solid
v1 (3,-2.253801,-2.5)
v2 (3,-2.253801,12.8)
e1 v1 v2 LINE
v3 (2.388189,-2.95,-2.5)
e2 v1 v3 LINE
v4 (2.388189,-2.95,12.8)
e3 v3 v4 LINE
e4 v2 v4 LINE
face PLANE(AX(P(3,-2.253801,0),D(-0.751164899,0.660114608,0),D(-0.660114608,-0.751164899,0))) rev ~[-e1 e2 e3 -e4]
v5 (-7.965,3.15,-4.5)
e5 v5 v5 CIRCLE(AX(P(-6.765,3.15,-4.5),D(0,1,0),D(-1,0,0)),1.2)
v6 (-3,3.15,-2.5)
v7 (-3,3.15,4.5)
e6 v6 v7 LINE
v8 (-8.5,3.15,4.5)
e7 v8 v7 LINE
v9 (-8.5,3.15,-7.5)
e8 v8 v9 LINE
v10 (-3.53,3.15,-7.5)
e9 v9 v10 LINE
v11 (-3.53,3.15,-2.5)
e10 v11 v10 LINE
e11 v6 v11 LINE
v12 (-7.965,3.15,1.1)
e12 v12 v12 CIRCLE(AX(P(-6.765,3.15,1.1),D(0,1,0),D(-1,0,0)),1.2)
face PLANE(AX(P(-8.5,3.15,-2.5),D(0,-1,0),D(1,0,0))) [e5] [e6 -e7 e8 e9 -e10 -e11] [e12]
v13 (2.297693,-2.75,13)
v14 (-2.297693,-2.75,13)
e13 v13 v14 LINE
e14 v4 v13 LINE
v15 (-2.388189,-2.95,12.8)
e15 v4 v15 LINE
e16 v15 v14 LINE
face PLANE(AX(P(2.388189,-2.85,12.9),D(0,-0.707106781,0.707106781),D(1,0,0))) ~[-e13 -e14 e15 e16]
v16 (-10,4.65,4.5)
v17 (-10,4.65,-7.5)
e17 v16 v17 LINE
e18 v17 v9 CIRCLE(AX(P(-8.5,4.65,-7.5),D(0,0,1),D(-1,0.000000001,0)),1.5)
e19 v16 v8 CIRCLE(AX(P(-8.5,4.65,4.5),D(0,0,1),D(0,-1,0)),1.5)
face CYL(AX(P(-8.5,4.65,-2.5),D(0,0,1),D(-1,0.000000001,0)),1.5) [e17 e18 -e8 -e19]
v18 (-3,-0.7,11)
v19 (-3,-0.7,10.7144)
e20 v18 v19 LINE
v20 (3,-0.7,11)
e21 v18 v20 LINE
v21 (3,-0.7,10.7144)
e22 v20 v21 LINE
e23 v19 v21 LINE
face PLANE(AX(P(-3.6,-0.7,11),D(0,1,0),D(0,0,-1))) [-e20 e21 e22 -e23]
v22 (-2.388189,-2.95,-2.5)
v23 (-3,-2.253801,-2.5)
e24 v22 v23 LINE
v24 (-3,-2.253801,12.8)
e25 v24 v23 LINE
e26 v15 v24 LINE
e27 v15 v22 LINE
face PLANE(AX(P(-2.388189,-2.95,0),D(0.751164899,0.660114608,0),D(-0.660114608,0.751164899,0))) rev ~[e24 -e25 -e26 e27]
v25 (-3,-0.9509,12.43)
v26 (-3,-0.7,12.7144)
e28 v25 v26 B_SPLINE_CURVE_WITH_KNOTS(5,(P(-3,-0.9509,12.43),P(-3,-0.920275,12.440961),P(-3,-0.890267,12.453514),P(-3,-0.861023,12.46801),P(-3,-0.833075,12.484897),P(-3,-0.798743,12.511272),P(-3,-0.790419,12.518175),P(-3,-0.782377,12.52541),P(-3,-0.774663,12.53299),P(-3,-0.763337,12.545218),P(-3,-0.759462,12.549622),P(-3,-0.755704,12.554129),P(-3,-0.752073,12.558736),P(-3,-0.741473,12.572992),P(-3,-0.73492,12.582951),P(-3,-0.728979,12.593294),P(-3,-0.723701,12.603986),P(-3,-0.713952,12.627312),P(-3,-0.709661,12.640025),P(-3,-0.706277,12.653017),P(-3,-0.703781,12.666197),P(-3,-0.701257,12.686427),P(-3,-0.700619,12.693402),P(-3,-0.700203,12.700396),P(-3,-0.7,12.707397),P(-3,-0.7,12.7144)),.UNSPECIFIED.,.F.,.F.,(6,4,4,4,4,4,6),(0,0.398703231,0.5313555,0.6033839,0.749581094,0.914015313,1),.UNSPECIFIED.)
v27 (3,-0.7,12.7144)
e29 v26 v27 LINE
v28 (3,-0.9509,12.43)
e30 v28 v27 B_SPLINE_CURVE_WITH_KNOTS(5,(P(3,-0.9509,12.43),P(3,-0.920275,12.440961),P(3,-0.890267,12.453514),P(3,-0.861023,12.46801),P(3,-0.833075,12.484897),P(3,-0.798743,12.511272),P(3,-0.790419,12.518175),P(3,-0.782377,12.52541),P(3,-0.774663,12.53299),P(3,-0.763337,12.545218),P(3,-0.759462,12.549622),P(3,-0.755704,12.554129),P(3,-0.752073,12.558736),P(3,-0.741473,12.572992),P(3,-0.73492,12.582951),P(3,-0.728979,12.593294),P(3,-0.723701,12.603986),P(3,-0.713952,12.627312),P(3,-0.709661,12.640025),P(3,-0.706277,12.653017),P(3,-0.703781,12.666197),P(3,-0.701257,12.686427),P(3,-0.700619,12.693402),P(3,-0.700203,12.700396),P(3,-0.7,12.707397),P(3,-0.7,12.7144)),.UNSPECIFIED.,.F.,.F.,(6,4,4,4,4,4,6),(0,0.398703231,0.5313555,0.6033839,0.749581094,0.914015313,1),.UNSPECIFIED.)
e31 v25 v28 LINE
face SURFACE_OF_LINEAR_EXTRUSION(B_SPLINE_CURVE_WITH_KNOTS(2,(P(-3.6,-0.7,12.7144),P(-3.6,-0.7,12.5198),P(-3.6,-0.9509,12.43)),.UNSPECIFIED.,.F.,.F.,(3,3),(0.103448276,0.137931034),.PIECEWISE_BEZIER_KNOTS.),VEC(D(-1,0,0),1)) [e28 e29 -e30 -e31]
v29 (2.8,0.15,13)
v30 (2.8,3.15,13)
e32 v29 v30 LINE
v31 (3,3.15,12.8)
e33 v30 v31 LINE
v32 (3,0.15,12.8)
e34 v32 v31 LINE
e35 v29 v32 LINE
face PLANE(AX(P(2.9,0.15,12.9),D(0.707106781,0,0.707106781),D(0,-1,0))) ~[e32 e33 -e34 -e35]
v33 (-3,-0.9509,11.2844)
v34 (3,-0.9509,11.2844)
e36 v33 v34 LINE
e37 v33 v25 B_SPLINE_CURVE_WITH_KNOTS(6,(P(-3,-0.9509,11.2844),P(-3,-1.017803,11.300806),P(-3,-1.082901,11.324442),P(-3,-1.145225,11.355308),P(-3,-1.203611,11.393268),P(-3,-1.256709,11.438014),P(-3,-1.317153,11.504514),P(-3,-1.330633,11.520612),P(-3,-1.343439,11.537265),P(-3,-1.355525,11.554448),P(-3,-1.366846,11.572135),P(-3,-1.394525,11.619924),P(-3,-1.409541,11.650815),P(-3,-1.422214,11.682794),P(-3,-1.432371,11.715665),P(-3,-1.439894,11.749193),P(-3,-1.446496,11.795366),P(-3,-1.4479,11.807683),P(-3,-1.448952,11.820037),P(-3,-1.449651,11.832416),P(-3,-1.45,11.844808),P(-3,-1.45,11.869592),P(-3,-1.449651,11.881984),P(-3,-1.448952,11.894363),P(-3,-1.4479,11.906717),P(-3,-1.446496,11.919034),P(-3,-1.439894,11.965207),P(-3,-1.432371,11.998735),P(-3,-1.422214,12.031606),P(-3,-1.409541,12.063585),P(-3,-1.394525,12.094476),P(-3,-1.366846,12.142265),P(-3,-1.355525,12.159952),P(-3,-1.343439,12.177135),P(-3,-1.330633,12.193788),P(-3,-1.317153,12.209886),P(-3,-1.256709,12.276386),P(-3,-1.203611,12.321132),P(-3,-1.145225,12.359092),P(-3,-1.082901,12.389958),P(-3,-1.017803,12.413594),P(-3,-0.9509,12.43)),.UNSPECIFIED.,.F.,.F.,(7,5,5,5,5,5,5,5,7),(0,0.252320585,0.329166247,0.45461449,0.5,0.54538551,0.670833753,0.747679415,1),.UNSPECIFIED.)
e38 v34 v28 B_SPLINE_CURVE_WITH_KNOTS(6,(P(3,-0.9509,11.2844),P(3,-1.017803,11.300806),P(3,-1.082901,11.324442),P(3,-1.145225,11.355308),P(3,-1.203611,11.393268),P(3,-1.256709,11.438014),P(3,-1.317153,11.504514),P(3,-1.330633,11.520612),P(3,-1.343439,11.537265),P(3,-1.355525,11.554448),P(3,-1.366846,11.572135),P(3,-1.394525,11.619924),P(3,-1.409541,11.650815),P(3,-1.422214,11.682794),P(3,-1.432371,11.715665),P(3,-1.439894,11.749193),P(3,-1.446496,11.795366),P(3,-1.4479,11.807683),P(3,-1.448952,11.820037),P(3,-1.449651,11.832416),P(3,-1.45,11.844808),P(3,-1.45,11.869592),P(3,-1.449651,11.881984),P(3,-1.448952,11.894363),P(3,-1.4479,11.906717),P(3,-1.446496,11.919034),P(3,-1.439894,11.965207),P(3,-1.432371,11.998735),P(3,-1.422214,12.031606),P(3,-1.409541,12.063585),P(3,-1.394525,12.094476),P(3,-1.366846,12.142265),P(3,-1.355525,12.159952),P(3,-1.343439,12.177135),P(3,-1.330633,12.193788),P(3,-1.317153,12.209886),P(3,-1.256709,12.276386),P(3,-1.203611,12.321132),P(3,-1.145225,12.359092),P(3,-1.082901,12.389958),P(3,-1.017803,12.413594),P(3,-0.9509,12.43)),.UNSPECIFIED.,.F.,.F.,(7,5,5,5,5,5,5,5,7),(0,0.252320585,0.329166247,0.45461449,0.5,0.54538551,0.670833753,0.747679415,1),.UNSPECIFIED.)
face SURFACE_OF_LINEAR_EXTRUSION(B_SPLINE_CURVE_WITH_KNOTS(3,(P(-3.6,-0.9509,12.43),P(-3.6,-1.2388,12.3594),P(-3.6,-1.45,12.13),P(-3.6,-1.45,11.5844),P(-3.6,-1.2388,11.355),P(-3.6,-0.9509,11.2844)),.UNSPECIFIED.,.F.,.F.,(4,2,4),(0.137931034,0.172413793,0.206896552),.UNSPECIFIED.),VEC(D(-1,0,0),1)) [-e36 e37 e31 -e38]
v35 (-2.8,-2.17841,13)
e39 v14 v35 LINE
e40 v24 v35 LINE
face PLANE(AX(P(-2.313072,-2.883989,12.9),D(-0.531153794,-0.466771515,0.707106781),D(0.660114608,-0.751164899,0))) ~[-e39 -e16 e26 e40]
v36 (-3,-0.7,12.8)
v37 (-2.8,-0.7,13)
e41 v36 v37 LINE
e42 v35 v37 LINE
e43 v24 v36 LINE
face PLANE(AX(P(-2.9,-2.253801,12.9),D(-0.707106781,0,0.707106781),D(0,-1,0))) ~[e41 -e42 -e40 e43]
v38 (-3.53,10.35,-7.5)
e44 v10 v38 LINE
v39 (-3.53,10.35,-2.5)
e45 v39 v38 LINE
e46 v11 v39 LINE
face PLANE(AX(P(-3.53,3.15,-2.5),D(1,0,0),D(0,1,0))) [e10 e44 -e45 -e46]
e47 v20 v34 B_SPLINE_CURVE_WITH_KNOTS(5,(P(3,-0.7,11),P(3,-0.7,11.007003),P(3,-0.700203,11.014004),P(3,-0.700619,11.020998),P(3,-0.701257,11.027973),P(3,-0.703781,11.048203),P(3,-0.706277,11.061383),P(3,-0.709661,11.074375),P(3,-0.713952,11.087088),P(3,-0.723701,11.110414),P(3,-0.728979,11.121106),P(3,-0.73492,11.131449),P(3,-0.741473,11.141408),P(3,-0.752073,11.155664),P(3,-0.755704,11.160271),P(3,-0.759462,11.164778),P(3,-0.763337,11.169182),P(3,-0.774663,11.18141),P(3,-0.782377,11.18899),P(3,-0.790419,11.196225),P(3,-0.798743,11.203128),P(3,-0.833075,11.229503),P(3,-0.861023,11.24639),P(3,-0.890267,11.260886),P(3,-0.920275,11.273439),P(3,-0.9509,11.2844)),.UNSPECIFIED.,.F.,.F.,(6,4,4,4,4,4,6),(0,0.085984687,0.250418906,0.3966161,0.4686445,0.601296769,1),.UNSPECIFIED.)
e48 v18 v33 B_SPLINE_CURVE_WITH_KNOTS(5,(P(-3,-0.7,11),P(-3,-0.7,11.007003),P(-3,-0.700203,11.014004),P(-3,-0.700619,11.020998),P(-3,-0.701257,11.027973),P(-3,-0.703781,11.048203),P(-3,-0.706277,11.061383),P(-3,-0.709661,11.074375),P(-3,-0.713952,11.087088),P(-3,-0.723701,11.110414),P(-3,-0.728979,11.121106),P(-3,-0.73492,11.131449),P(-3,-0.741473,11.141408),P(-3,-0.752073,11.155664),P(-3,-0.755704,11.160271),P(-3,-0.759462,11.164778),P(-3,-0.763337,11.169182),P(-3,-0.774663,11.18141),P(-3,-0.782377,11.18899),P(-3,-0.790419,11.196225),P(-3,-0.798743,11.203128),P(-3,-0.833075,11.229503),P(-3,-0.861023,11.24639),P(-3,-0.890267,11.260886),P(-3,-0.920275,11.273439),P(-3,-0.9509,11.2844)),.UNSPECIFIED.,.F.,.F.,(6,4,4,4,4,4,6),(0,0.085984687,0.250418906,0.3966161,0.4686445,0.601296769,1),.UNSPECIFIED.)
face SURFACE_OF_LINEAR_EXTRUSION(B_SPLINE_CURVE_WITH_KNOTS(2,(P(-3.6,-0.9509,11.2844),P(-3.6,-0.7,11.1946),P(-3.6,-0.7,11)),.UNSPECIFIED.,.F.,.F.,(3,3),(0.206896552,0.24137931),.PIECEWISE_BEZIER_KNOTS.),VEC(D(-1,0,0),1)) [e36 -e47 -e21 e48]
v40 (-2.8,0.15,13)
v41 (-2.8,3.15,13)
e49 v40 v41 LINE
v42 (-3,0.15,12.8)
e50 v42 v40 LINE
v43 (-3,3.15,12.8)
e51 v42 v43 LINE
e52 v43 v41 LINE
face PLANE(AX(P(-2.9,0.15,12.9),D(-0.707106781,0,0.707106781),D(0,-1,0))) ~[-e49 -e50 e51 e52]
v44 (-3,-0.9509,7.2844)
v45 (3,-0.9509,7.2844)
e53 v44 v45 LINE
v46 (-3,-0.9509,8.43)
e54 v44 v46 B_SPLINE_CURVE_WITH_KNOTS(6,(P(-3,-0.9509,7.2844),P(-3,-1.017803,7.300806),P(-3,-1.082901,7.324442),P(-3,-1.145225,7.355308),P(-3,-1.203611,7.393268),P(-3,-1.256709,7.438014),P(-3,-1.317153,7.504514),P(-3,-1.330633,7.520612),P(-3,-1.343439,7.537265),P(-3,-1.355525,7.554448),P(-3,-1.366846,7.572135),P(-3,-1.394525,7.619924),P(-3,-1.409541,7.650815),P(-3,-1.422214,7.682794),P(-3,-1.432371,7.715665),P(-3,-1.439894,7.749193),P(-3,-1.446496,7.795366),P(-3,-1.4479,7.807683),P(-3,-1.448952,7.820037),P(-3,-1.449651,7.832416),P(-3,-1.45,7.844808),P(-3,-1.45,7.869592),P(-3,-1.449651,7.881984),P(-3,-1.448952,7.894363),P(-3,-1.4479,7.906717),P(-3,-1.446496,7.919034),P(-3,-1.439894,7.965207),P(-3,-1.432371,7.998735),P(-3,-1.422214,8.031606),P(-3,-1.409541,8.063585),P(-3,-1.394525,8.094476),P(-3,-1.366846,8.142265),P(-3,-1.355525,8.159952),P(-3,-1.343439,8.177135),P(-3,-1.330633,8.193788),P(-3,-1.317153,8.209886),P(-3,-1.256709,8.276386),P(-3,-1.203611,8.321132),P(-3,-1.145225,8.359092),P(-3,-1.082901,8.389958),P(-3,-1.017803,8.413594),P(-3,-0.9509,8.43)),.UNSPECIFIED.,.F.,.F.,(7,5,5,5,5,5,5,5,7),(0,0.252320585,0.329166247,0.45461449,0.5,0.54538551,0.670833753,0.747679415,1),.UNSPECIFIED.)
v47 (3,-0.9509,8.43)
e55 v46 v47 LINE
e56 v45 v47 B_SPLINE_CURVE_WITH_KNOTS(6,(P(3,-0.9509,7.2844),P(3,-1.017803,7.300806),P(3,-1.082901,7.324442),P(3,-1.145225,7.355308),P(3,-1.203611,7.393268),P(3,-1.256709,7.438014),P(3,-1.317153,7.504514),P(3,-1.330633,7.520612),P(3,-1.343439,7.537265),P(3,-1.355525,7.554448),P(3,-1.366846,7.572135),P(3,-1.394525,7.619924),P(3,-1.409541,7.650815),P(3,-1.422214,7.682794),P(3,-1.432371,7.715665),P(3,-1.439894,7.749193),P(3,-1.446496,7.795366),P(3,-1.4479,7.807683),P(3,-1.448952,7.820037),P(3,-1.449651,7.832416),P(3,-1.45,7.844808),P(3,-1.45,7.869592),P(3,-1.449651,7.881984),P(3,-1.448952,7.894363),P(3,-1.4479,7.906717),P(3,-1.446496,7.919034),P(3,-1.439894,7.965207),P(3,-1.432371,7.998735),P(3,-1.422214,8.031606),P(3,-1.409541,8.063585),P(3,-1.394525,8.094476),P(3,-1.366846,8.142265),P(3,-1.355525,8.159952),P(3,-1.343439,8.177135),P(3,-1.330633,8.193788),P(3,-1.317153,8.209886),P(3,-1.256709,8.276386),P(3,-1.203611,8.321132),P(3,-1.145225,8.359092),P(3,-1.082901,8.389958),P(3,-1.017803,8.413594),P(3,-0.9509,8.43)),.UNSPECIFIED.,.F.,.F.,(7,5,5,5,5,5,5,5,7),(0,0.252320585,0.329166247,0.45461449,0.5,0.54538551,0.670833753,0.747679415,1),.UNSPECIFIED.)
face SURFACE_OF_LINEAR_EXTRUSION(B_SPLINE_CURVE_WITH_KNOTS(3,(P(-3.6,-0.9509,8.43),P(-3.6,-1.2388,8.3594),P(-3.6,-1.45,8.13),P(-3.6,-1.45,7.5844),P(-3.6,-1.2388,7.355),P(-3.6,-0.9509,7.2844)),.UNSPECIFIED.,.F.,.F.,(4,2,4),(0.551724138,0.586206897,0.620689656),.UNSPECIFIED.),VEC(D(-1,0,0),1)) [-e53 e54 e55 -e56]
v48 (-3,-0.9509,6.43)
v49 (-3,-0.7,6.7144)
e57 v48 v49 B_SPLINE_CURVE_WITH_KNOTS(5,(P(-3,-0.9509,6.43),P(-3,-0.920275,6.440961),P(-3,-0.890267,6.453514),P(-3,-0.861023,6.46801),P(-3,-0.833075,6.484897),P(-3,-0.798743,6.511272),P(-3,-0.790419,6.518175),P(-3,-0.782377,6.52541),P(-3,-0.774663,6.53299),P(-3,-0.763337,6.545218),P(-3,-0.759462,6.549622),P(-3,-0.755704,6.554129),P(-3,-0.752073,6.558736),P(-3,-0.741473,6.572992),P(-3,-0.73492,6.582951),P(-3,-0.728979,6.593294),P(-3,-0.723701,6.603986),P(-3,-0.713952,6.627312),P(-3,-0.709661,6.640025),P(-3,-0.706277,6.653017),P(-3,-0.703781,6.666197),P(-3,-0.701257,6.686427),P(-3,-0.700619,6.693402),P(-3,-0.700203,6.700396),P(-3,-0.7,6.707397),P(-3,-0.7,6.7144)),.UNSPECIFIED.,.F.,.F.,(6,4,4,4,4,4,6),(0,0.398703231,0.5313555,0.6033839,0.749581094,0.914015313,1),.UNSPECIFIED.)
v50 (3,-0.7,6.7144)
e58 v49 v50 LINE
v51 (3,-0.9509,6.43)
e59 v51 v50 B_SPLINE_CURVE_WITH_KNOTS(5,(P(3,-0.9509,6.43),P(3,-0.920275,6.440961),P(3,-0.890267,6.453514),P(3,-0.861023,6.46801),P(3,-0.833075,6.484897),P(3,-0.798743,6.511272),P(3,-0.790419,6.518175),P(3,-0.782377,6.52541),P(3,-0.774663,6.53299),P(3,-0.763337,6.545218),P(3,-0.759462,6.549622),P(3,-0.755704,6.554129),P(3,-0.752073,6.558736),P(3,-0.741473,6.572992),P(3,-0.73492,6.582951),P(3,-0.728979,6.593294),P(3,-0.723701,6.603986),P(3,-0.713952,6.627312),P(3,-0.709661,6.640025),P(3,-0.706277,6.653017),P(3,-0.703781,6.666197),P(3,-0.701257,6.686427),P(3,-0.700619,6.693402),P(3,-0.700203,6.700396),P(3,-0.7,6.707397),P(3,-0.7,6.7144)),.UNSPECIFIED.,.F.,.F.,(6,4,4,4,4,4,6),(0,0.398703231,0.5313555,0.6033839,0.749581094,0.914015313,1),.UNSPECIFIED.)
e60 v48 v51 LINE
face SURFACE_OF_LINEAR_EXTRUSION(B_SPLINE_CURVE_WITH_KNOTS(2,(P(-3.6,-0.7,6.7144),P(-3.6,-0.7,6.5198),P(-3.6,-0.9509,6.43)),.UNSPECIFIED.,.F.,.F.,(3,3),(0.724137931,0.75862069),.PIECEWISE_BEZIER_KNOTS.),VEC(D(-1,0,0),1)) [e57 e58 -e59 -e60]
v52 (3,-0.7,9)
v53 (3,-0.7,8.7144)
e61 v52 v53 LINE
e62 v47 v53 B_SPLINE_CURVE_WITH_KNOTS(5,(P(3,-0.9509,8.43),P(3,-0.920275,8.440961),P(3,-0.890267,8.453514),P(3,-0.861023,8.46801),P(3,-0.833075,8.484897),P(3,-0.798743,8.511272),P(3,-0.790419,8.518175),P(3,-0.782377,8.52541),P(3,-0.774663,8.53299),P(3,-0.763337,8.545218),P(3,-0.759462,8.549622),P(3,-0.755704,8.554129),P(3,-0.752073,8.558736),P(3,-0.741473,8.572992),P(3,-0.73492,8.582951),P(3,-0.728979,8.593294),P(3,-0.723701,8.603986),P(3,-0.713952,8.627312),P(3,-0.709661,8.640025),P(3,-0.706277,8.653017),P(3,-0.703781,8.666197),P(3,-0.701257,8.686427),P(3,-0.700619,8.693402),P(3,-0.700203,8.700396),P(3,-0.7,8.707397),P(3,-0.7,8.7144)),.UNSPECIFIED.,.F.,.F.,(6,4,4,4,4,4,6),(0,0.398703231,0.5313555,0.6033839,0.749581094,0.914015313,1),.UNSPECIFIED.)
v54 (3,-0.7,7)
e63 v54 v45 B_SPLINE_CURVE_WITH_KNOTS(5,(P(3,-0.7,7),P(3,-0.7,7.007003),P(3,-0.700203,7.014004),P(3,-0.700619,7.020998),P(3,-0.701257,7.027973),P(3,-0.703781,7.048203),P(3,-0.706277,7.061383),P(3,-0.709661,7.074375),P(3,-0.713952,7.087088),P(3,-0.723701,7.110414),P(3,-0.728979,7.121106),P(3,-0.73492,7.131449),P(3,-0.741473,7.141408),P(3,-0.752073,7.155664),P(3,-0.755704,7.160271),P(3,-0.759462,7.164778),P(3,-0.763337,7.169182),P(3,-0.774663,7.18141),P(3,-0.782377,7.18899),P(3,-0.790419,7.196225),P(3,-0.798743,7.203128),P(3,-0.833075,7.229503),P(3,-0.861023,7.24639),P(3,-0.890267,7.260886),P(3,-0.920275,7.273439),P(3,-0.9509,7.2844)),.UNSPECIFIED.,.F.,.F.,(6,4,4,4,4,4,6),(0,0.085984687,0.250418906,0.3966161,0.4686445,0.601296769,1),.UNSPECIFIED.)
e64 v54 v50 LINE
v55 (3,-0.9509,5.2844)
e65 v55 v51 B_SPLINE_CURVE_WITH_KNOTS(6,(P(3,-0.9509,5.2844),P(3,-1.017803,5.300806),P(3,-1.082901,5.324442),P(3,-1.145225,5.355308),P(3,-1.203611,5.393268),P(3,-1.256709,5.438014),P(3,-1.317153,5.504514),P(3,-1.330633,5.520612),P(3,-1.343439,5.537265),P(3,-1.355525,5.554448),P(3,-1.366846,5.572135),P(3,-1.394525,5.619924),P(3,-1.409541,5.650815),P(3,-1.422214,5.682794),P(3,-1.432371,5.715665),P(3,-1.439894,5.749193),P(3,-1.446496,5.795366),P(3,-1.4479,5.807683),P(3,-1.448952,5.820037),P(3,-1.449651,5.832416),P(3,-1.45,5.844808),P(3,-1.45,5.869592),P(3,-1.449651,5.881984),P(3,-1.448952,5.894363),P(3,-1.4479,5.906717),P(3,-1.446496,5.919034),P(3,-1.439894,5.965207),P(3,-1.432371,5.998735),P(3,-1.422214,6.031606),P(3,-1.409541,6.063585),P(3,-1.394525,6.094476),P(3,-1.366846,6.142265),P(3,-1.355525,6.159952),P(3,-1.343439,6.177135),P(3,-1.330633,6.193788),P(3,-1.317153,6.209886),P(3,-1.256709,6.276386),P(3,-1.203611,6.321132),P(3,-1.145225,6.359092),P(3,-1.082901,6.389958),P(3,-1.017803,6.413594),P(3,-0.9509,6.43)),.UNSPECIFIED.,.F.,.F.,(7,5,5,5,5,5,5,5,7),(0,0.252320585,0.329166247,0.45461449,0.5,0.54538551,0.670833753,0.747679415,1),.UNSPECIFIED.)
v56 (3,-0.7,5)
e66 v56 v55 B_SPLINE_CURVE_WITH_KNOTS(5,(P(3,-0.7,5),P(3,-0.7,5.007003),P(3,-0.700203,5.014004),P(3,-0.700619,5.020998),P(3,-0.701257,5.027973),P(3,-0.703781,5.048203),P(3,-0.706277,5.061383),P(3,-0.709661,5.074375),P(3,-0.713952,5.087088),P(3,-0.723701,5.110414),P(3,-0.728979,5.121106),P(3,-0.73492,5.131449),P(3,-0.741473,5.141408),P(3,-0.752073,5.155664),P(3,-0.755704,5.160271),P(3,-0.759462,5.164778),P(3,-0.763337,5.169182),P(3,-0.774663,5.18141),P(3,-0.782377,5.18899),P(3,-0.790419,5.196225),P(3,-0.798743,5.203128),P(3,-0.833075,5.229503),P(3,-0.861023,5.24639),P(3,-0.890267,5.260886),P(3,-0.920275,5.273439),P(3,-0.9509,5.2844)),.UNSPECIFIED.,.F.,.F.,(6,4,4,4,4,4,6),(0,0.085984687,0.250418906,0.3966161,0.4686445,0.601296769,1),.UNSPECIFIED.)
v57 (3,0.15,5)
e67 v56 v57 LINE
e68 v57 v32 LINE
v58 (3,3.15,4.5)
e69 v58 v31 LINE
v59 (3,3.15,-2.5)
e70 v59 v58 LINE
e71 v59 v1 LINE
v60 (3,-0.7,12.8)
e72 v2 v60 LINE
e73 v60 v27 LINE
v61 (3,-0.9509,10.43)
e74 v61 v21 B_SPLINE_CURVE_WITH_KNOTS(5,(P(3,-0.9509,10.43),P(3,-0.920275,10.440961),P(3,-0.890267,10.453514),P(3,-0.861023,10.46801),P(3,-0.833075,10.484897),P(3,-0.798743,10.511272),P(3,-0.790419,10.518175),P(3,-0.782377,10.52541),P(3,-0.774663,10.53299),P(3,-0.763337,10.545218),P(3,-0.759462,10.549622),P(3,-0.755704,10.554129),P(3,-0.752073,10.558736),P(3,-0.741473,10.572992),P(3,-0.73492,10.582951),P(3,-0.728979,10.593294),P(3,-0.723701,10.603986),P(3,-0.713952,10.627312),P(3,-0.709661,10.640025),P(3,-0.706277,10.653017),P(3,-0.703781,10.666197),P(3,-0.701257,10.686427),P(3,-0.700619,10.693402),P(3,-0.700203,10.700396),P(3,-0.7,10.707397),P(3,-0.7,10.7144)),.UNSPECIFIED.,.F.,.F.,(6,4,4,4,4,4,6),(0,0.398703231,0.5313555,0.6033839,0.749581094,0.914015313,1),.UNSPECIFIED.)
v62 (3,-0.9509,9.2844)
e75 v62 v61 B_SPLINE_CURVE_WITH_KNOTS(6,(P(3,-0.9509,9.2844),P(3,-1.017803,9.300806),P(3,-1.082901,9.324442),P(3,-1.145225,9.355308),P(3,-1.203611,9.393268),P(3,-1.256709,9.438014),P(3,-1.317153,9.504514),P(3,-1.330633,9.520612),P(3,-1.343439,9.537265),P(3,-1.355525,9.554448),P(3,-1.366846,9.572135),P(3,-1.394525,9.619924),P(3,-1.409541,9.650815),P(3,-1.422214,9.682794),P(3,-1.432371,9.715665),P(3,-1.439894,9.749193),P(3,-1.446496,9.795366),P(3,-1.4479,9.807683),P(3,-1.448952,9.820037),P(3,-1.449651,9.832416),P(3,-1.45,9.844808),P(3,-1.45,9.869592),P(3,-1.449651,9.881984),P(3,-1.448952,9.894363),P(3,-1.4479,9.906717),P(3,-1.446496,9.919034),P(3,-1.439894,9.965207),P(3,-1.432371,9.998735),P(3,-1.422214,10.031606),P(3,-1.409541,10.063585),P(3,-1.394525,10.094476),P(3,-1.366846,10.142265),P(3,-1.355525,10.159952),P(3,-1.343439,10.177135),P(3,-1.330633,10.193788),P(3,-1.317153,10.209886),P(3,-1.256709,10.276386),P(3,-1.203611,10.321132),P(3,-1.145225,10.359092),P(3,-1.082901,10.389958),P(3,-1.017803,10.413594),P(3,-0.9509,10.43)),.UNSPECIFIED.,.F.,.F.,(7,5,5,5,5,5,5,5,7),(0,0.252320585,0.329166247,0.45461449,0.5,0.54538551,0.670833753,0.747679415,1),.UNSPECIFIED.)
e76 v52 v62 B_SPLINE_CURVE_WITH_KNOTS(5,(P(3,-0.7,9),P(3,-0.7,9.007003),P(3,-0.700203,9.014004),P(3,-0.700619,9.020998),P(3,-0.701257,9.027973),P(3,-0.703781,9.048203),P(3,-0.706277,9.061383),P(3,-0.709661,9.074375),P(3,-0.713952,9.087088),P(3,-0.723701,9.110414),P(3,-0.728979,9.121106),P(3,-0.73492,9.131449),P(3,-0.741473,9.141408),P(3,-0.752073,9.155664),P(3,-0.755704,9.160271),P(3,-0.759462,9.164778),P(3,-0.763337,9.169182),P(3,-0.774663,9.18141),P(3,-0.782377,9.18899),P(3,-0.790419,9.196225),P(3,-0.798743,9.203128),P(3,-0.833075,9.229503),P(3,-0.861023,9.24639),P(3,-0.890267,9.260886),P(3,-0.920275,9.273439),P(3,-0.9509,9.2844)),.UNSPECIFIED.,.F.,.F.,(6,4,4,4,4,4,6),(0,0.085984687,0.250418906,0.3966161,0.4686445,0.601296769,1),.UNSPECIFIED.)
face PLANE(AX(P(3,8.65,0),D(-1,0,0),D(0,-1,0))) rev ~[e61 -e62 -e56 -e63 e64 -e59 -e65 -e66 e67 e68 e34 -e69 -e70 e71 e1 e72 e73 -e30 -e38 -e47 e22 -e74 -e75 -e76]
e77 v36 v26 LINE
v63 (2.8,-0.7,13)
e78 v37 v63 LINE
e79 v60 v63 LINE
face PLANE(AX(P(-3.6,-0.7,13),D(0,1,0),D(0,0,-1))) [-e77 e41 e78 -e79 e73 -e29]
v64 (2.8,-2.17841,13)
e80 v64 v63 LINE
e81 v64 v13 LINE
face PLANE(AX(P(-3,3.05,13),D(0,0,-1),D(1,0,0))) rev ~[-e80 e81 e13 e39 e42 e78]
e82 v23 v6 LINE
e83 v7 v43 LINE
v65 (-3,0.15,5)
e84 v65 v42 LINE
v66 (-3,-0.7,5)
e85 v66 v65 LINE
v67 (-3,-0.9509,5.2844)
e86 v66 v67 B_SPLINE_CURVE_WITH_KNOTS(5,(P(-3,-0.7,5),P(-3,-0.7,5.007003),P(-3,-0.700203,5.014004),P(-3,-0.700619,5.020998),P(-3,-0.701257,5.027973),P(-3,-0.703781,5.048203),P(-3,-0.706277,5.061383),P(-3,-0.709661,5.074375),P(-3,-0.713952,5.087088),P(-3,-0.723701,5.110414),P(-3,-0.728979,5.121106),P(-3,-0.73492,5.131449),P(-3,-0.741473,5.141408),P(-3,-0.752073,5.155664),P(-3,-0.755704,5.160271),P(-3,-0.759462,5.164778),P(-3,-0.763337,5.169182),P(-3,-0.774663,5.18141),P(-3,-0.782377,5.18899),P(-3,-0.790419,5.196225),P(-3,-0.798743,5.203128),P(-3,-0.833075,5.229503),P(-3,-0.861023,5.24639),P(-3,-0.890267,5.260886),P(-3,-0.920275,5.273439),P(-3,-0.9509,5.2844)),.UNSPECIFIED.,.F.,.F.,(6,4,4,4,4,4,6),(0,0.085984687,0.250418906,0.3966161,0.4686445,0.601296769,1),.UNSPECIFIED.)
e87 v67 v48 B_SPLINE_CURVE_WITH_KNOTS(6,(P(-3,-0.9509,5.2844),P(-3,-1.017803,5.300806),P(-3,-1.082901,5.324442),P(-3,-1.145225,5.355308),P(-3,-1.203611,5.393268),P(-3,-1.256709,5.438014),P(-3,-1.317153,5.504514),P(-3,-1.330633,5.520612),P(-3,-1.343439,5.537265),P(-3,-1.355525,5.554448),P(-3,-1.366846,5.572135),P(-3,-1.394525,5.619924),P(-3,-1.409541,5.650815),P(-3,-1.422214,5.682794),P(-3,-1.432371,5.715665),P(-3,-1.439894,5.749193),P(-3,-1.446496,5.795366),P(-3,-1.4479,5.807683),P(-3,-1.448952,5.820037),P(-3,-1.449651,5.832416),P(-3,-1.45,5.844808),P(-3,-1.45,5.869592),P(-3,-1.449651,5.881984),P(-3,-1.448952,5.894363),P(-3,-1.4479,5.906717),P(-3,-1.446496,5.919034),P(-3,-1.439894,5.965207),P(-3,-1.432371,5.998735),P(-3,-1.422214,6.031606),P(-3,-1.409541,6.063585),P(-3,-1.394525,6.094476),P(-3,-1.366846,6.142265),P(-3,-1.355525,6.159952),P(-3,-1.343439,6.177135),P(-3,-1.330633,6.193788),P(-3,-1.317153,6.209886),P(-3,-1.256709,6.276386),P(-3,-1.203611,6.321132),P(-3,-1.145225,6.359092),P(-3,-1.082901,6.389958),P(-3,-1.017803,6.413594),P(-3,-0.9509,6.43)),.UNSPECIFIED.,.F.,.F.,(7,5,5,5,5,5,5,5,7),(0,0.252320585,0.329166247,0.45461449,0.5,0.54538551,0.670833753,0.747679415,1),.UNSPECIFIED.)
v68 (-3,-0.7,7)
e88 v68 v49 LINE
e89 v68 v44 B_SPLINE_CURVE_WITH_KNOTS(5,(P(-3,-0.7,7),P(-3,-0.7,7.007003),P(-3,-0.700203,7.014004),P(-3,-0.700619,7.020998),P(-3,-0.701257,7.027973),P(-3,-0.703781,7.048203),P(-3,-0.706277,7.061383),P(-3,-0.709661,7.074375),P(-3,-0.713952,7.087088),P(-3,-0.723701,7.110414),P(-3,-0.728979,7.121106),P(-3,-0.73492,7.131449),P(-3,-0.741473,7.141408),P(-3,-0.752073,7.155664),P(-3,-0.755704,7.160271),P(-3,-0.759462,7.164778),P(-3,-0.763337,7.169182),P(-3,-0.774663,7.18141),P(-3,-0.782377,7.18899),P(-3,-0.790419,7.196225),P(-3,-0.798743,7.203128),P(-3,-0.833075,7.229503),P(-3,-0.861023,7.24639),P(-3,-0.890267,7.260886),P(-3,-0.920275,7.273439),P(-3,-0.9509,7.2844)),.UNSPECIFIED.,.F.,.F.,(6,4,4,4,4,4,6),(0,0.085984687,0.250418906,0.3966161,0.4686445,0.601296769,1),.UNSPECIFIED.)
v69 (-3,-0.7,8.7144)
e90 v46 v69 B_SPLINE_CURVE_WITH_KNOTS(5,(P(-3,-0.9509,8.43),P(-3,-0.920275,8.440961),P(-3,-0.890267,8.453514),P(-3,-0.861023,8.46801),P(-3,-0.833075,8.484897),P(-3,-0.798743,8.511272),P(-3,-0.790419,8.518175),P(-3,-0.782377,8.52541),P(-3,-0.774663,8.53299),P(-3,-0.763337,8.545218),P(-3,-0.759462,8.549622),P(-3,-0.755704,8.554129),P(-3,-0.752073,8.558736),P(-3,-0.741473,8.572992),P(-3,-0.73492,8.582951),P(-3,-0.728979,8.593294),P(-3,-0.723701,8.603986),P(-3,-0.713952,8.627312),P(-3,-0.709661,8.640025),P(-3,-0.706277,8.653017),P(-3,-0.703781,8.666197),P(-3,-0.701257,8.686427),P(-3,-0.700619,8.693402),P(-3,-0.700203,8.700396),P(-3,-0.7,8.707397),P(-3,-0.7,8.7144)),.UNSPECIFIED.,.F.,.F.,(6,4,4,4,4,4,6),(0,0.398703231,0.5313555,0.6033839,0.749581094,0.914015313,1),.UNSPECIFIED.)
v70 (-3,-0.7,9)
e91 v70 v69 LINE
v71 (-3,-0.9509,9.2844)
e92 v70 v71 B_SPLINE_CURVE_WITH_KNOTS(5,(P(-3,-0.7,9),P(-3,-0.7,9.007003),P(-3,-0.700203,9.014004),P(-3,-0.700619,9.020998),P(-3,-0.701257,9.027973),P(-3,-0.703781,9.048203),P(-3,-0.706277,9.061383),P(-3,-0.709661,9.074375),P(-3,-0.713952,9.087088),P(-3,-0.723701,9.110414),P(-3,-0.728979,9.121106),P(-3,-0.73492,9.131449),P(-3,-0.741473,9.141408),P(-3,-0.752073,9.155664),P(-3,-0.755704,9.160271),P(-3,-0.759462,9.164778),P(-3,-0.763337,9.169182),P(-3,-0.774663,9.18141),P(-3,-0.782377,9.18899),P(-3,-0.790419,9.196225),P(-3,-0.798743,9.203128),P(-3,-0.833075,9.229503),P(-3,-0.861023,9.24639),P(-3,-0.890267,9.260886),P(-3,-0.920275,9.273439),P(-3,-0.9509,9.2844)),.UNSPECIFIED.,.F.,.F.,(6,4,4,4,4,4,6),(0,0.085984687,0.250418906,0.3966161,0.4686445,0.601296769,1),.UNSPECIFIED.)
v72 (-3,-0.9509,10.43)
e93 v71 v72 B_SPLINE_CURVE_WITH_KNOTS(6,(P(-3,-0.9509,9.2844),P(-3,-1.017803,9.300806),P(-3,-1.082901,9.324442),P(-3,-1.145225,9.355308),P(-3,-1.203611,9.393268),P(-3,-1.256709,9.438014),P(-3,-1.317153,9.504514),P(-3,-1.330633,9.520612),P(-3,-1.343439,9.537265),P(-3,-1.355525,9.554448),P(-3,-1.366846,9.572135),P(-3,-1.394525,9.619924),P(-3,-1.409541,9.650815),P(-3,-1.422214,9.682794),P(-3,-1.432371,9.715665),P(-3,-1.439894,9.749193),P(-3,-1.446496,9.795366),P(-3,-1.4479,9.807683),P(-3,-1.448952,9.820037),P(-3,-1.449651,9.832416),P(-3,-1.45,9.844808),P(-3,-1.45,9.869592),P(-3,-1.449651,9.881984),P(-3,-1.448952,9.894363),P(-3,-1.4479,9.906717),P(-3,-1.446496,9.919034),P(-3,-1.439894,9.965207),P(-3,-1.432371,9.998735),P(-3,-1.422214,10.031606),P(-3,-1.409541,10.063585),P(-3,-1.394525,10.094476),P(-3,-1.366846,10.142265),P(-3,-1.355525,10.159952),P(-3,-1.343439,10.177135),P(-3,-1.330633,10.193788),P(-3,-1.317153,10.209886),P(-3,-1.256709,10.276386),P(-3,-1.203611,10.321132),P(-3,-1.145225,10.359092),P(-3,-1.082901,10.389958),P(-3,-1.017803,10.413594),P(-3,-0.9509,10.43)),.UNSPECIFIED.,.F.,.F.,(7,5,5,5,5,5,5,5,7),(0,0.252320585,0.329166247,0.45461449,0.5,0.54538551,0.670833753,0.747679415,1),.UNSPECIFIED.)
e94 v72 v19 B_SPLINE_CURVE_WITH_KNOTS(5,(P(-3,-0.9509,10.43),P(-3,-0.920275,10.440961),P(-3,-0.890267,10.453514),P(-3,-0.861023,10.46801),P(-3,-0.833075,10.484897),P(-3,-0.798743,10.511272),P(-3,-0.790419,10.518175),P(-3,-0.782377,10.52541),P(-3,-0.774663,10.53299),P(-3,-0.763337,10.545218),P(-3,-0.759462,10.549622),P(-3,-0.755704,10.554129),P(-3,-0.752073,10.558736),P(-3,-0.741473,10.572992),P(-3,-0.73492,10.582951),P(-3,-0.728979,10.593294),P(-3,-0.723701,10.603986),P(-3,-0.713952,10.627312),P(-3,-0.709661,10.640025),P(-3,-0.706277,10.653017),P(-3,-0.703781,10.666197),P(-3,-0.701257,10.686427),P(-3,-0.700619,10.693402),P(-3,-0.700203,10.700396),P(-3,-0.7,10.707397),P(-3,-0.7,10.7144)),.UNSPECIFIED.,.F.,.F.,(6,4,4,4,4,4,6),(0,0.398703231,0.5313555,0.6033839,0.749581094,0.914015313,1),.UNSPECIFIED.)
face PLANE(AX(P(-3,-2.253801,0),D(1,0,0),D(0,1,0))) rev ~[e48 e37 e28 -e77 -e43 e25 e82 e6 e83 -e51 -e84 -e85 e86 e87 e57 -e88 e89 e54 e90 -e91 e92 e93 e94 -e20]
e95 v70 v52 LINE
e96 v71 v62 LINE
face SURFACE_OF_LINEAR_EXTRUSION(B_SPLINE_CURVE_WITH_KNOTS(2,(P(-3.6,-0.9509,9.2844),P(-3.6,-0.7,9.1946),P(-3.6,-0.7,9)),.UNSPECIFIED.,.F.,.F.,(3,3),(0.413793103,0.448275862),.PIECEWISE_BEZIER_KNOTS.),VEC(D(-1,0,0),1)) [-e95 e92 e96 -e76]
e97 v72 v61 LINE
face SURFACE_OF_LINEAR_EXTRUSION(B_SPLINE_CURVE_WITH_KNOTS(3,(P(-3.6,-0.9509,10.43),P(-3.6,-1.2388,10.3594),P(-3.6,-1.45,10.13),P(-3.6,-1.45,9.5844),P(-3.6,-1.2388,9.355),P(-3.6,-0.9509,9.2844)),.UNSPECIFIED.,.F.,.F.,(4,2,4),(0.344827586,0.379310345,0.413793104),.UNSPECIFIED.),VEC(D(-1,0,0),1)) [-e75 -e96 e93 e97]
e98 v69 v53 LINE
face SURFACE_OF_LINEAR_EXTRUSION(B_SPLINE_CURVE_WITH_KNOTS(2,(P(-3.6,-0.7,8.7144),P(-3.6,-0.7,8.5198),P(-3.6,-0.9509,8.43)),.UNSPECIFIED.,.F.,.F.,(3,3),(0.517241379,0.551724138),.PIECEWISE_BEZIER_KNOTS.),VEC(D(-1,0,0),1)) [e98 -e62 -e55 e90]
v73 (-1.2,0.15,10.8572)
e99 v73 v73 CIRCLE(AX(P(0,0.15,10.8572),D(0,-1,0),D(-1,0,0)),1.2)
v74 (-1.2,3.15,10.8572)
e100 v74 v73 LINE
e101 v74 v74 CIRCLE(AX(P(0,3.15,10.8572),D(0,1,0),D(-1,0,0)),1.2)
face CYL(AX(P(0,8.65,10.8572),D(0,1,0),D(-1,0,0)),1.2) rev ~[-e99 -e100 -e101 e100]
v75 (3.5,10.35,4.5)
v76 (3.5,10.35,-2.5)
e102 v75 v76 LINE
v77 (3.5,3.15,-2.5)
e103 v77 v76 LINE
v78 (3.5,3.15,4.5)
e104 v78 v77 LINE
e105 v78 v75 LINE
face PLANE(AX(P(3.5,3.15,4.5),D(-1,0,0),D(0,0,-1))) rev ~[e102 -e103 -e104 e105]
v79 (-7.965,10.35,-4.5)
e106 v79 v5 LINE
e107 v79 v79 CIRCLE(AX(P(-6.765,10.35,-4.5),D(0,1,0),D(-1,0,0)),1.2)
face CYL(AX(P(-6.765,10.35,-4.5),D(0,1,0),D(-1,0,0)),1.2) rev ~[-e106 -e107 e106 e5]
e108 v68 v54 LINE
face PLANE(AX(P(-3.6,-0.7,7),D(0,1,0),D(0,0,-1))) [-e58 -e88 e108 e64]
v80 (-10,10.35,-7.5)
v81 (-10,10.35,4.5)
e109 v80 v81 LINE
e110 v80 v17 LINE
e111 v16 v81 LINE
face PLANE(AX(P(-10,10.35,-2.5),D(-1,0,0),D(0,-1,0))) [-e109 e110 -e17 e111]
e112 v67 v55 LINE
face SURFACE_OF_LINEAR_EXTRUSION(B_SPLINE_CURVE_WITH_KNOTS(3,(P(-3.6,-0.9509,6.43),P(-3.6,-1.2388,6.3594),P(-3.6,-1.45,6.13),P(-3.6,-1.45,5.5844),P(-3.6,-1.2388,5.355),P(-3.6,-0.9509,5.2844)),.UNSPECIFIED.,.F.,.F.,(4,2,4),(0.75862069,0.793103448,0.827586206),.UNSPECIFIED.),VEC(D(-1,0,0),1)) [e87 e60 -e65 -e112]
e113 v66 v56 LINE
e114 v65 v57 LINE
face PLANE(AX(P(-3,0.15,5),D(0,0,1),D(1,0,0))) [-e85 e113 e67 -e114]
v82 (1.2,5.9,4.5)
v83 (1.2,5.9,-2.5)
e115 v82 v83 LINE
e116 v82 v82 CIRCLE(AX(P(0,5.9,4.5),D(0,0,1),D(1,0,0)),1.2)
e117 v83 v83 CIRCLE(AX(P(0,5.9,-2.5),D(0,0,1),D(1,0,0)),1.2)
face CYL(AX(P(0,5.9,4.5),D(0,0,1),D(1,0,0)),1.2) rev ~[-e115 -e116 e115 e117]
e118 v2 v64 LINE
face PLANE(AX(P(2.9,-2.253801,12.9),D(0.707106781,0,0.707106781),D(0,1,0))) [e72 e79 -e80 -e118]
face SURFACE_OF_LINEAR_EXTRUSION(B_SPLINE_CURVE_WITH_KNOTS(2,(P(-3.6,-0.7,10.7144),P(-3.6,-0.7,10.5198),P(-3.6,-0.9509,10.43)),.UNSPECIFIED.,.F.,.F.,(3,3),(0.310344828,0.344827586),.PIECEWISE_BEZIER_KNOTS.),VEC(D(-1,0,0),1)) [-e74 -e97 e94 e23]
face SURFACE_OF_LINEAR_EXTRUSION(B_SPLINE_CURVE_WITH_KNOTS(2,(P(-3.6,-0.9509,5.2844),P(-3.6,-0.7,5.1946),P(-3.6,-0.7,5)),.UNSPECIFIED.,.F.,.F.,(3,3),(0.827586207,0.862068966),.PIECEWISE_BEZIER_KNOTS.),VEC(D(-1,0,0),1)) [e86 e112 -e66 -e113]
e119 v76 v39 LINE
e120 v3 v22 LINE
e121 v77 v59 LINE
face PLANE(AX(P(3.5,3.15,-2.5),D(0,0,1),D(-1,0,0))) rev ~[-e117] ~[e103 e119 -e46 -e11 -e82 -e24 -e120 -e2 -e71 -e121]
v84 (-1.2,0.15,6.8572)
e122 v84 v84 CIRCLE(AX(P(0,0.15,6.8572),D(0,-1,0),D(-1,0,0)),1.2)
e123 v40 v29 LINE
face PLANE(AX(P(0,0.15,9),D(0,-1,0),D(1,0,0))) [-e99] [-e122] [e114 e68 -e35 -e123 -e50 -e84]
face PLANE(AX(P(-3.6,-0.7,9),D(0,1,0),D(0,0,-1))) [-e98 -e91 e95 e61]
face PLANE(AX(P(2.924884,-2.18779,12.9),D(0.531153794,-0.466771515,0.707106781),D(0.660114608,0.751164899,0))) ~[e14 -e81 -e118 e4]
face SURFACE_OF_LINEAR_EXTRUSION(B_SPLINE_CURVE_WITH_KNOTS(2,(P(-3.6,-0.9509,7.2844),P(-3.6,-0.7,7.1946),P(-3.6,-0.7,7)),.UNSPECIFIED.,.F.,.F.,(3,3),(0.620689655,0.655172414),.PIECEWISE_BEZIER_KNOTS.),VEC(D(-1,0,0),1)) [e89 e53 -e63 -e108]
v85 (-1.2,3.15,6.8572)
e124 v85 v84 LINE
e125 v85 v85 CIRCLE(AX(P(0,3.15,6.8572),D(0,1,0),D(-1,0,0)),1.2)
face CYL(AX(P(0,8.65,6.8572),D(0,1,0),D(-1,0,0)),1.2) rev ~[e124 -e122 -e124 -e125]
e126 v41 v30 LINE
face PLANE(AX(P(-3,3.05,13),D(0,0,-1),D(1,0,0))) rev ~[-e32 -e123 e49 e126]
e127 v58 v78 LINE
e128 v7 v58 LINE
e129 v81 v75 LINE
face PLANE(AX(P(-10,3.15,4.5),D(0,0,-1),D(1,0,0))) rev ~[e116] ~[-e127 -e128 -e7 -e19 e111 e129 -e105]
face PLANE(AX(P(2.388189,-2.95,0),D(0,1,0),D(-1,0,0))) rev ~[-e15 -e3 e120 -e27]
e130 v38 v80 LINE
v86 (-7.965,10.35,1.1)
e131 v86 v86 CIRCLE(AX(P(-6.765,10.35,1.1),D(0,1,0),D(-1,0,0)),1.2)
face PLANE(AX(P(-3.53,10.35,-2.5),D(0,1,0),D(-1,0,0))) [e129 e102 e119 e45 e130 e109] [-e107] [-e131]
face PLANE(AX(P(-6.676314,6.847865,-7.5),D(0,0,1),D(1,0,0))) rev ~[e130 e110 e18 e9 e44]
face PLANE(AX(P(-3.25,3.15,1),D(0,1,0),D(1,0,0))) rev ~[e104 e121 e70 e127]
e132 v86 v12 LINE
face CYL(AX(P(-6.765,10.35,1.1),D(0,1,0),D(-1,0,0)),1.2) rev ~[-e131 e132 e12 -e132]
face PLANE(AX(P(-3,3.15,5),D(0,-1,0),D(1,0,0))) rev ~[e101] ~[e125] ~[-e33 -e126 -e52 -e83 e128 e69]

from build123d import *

# Parameters (mm, degrees)
BOSS_EXTRUDE1_DEPTH     = 13
SKETCH6_W               = 6
SKETCH6_H               = 5
BOSS_EXTRUDE4_DEPTH     = 5.6
SKETCH16_W              = 6
SKETCH16_H              = 8
BOSS_EXTRUDE5_DEPTH     = 0.1
CUT_EXTRUDE6_DEPTH      = 4
CUT_EXTRUDE6_DEPTH_BACK = 3.6
SKETCH15_R              = 1.2
CUT_EXTRUDE7_DEPTH      = 8.7202
CUT_EXTRUDE8_START      = -0.2202
SKETCH19_W              = 6
SKETCH19_H              = 8
SKETCH19_R              = 1.2
CUT_EXTRUDE8_DEPTH      = 0.2202
SKETCH12_R              = 1.2
CUT_EXTRUDE5_DEPTH      = 6
SKETCH21_R              = 1.2
BOSS_EXTRUDE6_DEPTH     = 2.5
SKETCH24_W              = 6
SKETCH24_H              = 5.5
CUT_EXTRUDE10_DEPTH     = 8.5
BOSS_EXTRUDE8_DEPTH     = 7.2
FILLET4_R               = 1.5
SKETCH26_R              = 1.2
CUT_EXTRUDE11_DEPTH     = 10
CHAMFER1_SIZE           = 0.2
BOSS_EXTRUDE9_DEPTH     = 5
SKETCH31_R              = 1.2
CUT_EXTRUDE12_DEPTH     = 8


with BuildPart() as part:
    # Sketch1 → Boss-Extrude1 (new body)
    with BuildSketch(Plane.XY):
        Polygon((3, 3.05), (3, -2.253801214), (2.388188946, -2.95), (-2.388188946, -2.95), (-3, -2.253801214), (-3, 3.05), align=None)
    extrude(amount=BOSS_EXTRUDE1_DEPTH)

    # Sketch6 → Boss-Extrude4 (add)
    with BuildSketch(Plane(origin=(0, 3.05, 0), x_dir=(1, 0, 0), z_dir=(0, 1, 0))):
        with Locations((0, -2.5)):
            Rectangle(SKETCH6_W, SKETCH6_H)
    extrude(amount=BOSS_EXTRUDE4_DEPTH)

    # Sketch16 → Boss-Extrude5 (add)
    with BuildSketch(Plane(origin=(0, 3.05, 0), x_dir=(1, 0, 0), z_dir=(0, 1, 0))):
        with Locations((0, -9)):
            Rectangle(SKETCH16_W, SKETCH16_H)
    extrude(amount=BOSS_EXTRUDE5_DEPTH)

    # Sketch18 → Cut-Extrude6 (cut, two sides: drawn at the far end of the back side and taken through both)
    with BuildSketch(Plane(origin=(0, 0, 0), x_dir=(0, 0, -1), z_dir=(1, 0, 0)).offset(-CUT_EXTRUDE6_DEPTH_BACK)):
        with BuildLine():
            Line((-8.8572, -0.0702), (-12.8572, -0.0702))
            Line((-12.8572, -0.0702), (-13, -0.0702))
            Line((-13, -0.0702), (-13, -0.7))
            Line((-13, -0.7), (-12.8572, -0.7))
            Line((-12.8572, -0.7), (-12.7144, -0.7))
            add(Edge.make_bspline(
                [(-12.7144, -0.7), (-12.5198, -0.7), (-12.43, -0.9509)],
                knots=[0.103448276, 0.103448276, 0.103448276, 0.137931034, 0.137931034, 0.137931034], degree=2))
            add(Edge.make_bspline(
                [(-12.43, -0.9509), (-12.3594, -1.2388), (-12.13, -1.45), (-11.8572, -1.45)],
                knots=[0.137931034, 0.137931034, 0.137931034, 0.137931034, 0.172413793, 0.172413793, 0.172413793, 0.172413793], degree=3))
            add(Edge.make_bspline(
                [(-11.8572, -1.45), (-11.5844, -1.45), (-11.355, -1.2388), (-11.2844, -0.9509)],
                knots=[0.172413793, 0.172413793, 0.172413793, 0.172413793, 0.206896552, 0.206896552, 0.206896552, 0.206896552], degree=3))
            add(Edge.make_bspline(
                [(-11.2844, -0.9509), (-11.1946, -0.7), (-11, -0.7)],
                knots=[0.206896552, 0.206896552, 0.206896552, 0.24137931, 0.24137931, 0.24137931], degree=2))
            Line((-11, -0.7), (-10.8572, -0.7))
            Line((-10.8572, -0.7), (-10.7144, -0.7))
            add(Edge.make_bspline(
                [(-10.7144, -0.7), (-10.5198, -0.7), (-10.43, -0.9509)],
                knots=[0.310344828, 0.310344828, 0.310344828, 0.344827586, 0.344827586, 0.344827586], degree=2))
            add(Edge.make_bspline(
                [(-10.43, -0.9509), (-10.3594, -1.2388), (-10.13, -1.45), (-9.8572, -1.45)],
                knots=[0.344827586, 0.344827586, 0.344827586, 0.344827586, 0.379310345, 0.379310345, 0.379310345, 0.379310345], degree=3))
            add(Edge.make_bspline(
                [(-9.8572, -1.45), (-9.5844, -1.45), (-9.355, -1.2388), (-9.2844, -0.9509)],
                knots=[0.379310345, 0.379310345, 0.379310345, 0.379310345, 0.413793103, 0.413793103, 0.413793103, 0.413793103], degree=3))
            add(Edge.make_bspline(
                [(-9.2844, -0.9509), (-9.1946, -0.7), (-9, -0.7)],
                knots=[0.413793103, 0.413793103, 0.413793103, 0.448275862, 0.448275862, 0.448275862], degree=2))
            Line((-9, -0.7), (-8.8572, -0.7))
            Line((-8.8572, -0.7), (-8.7144, -0.7))
            add(Edge.make_bspline(
                [(-8.7144, -0.7), (-8.5198, -0.7), (-8.43, -0.9509)],
                knots=[0.517241379, 0.517241379, 0.517241379, 0.551724138, 0.551724138, 0.551724138], degree=2))
            add(Edge.make_bspline(
                [(-8.43, -0.9509), (-8.3594, -1.2388), (-8.13, -1.45), (-7.8572, -1.45)],
                knots=[0.551724138, 0.551724138, 0.551724138, 0.551724138, 0.586206897, 0.586206897, 0.586206897, 0.586206897], degree=3))
            add(Edge.make_bspline(
                [(-7.8572, -1.45), (-7.5844, -1.45), (-7.355, -1.2388), (-7.2844, -0.9509)],
                knots=[0.586206897, 0.586206897, 0.586206897, 0.586206897, 0.620689655, 0.620689655, 0.620689655, 0.620689655], degree=3))
            add(Edge.make_bspline(
                [(-7.2844, -0.9509), (-7.1946, -0.7), (-7, -0.7)],
                knots=[0.620689655, 0.620689655, 0.620689655, 0.655172414, 0.655172414, 0.655172414], degree=2))
            Line((-7, -0.7), (-6.8572, -0.7))
            Line((-6.8572, -0.7), (-6.7144, -0.7))
            add(Edge.make_bspline(
                [(-6.7144, -0.7), (-6.5198, -0.7), (-6.43, -0.9509)],
                knots=[0.724137931, 0.724137931, 0.724137931, 0.75862069, 0.75862069, 0.75862069], degree=2))
            add(Edge.make_bspline(
                [(-6.43, -0.9509), (-6.3594, -1.2388), (-6.13, -1.45), (-5.8572, -1.45)],
                knots=[0.75862069, 0.75862069, 0.75862069, 0.75862069, 0.793103448, 0.793103448, 0.793103448, 0.793103448], degree=3))
            add(Edge.make_bspline(
                [(-5.8572, -1.45), (-5.5844, -1.45), (-5.355, -1.2388), (-5.2844, -0.9509)],
                knots=[0.793103448, 0.793103448, 0.793103448, 0.793103448, 0.827586207, 0.827586207, 0.827586207, 0.827586207], degree=3))
            add(Edge.make_bspline(
                [(-5.2844, -0.9509), (-5.1946, -0.7), (-5, -0.7)],
                knots=[0.827586207, 0.827586207, 0.827586207, 0.862068966, 0.862068966, 0.862068966], degree=2))
            Line((-5, -0.7), (-5, -0.0702))
            Line((-5, -0.0702), (-8.8572, -0.0702))
        make_face()
    extrude(amount=CUT_EXTRUDE6_DEPTH + CUT_EXTRUDE6_DEPTH_BACK, mode=Mode.SUBTRACT)

    # Sketch15 → Cut-Extrude7 (cut)
    with BuildSketch(Plane(origin=(0, 8.65, 0), x_dir=(1, 0, 0), z_dir=(0, 1, 0))):
        with Locations(Location((0, -10.8572, 0), (0, 0, 180))):
            Circle(SKETCH15_R)
        with Locations(Location((0, -6.8572, 0), (0, 0, 180))):
            Circle(SKETCH15_R)
    extrude(amount=-CUT_EXTRUDE7_DEPTH, mode=Mode.SUBTRACT)

    # Sketch19 → Cut-Extrude8 (cut)
    with BuildSketch(Plane.XZ.offset(0.0702).offset(CUT_EXTRUDE8_START)):
        with Locations((0, 9)):
            Rectangle(SKETCH19_W, SKETCH19_H)
        with Locations(Location((0, 10.8572, 0), (0, 0, 180))):
            Circle(SKETCH19_R, mode=Mode.SUBTRACT)
        with Locations(Location((0, 6.8572, 0), (0, 0, 180))):
            Circle(SKETCH19_R, mode=Mode.SUBTRACT)
    extrude(amount=CUT_EXTRUDE8_DEPTH, mode=Mode.SUBTRACT)

    # Sketch12 → Cut-Extrude5 (cut)
    with BuildSketch(Plane.XY.offset(5)):
        with Locations((0, 5.85)):
            Circle(SKETCH12_R)
    extrude(amount=-CUT_EXTRUDE5_DEPTH, mode=Mode.SUBTRACT)

    # Sketch21 → Boss-Extrude6 (add)
    with BuildSketch(Plane(origin=(0, 0, 0), x_dir=(-1, 0, 0), z_dir=(0, 0, -1))):
        Polygon((-2.388188946, -2.95), (2.388188946, -2.95), (3, -2.253801214), (3, 8.65), (-3, 8.65), (-3, -2.253801214), align=None)
        with Locations(Location((0, 5.85, 0), (0, 0, 180))):
            Circle(SKETCH21_R, mode=Mode.SUBTRACT)
    extrude(amount=BOSS_EXTRUDE6_DEPTH)

    # Sketch24 → Cut-Extrude10 (cut)
    with BuildSketch(Plane.XY.offset(5)):
        with Locations((0, 5.9)):
            Rectangle(SKETCH24_W, SKETCH24_H)
    extrude(amount=-CUT_EXTRUDE10_DEPTH, mode=Mode.SUBTRACT)

    # Sketch25 → Boss-Extrude8 (add)
    with BuildSketch(Plane(origin=(0, 3.15, 0), x_dir=(1, 0, 0), z_dir=(0, 1, 0))):
        Polygon((-10, -4.5), (0, -4.5), (3.5, -4.5), (3.5, 2.5), (-10, 2.5), align=None)
    extrude(amount=BOSS_EXTRUDE8_DEPTH)

    # Fillet4
    fillet4_edges = [part.edges().sort_by_distance(p)[0] for p in [
        (-10, 3.15, 1),
    ]]
    fillet(fillet4_edges, radius=FILLET4_R)

    # Sketch26 → Cut-Extrude11 (cut)
    with BuildSketch(Plane.XY.offset(4.5)):
        with Locations((0, 5.9)):
            Circle(SKETCH26_R)
    extrude(amount=-CUT_EXTRUDE11_DEPTH, mode=Mode.SUBTRACT)

    # Chamfer1
    chamfer1_edges = [part.edges().sort_by_distance(p)[0] for p in [
        (-2.694094473, -2.601900607, 13),
        (0, -2.95, 13),
        (2.694094473, -2.601900607, 13),
        (3, 1.65, 13),
        (3, -1.476900607, 13),
        (-3, -1.476900607, 13),
        (-3, 1.65, 13),
    ]]
    chamfer(chamfer1_edges, length=CHAMFER1_SIZE)

    # Sketch29 → Boss-Extrude9 (add)
    with BuildSketch(Plane(origin=(0, 0, -2.5), x_dir=(-1, 0, 0), z_dir=(0, 0, -1))):
        with BuildLine():
            Line((3.53, 3.15), (3.53, 10.35))
            Line((3.53, 10.35), (10, 10.35))
            Line((10, 10.35), (10, 4.65))
            ThreePointArc((10, 4.65), (9.560660172, 3.589339828), (8.5, 3.15))
            Line((8.5, 3.15), (3.53, 3.15))
        make_face()
    extrude(amount=BOSS_EXTRUDE9_DEPTH)

    # Sketch31 → Cut-Extrude12 (cut)
    with BuildSketch(Plane(origin=(0, 10.35, 0), x_dir=(1, 0, 0), z_dir=(0, 1, 0))):
        with Locations(Location((-6.765, 4.5, 0), (0, 0, 180))):
            Circle(SKETCH31_R)
        with Locations(Location((-6.765, -1.1, 0), (0, 0, 180))):
            Circle(SKETCH31_R)
    extrude(amount=-CUT_EXTRUDE12_DEPTH, mode=Mode.SUBTRACT)


solid = part.part
